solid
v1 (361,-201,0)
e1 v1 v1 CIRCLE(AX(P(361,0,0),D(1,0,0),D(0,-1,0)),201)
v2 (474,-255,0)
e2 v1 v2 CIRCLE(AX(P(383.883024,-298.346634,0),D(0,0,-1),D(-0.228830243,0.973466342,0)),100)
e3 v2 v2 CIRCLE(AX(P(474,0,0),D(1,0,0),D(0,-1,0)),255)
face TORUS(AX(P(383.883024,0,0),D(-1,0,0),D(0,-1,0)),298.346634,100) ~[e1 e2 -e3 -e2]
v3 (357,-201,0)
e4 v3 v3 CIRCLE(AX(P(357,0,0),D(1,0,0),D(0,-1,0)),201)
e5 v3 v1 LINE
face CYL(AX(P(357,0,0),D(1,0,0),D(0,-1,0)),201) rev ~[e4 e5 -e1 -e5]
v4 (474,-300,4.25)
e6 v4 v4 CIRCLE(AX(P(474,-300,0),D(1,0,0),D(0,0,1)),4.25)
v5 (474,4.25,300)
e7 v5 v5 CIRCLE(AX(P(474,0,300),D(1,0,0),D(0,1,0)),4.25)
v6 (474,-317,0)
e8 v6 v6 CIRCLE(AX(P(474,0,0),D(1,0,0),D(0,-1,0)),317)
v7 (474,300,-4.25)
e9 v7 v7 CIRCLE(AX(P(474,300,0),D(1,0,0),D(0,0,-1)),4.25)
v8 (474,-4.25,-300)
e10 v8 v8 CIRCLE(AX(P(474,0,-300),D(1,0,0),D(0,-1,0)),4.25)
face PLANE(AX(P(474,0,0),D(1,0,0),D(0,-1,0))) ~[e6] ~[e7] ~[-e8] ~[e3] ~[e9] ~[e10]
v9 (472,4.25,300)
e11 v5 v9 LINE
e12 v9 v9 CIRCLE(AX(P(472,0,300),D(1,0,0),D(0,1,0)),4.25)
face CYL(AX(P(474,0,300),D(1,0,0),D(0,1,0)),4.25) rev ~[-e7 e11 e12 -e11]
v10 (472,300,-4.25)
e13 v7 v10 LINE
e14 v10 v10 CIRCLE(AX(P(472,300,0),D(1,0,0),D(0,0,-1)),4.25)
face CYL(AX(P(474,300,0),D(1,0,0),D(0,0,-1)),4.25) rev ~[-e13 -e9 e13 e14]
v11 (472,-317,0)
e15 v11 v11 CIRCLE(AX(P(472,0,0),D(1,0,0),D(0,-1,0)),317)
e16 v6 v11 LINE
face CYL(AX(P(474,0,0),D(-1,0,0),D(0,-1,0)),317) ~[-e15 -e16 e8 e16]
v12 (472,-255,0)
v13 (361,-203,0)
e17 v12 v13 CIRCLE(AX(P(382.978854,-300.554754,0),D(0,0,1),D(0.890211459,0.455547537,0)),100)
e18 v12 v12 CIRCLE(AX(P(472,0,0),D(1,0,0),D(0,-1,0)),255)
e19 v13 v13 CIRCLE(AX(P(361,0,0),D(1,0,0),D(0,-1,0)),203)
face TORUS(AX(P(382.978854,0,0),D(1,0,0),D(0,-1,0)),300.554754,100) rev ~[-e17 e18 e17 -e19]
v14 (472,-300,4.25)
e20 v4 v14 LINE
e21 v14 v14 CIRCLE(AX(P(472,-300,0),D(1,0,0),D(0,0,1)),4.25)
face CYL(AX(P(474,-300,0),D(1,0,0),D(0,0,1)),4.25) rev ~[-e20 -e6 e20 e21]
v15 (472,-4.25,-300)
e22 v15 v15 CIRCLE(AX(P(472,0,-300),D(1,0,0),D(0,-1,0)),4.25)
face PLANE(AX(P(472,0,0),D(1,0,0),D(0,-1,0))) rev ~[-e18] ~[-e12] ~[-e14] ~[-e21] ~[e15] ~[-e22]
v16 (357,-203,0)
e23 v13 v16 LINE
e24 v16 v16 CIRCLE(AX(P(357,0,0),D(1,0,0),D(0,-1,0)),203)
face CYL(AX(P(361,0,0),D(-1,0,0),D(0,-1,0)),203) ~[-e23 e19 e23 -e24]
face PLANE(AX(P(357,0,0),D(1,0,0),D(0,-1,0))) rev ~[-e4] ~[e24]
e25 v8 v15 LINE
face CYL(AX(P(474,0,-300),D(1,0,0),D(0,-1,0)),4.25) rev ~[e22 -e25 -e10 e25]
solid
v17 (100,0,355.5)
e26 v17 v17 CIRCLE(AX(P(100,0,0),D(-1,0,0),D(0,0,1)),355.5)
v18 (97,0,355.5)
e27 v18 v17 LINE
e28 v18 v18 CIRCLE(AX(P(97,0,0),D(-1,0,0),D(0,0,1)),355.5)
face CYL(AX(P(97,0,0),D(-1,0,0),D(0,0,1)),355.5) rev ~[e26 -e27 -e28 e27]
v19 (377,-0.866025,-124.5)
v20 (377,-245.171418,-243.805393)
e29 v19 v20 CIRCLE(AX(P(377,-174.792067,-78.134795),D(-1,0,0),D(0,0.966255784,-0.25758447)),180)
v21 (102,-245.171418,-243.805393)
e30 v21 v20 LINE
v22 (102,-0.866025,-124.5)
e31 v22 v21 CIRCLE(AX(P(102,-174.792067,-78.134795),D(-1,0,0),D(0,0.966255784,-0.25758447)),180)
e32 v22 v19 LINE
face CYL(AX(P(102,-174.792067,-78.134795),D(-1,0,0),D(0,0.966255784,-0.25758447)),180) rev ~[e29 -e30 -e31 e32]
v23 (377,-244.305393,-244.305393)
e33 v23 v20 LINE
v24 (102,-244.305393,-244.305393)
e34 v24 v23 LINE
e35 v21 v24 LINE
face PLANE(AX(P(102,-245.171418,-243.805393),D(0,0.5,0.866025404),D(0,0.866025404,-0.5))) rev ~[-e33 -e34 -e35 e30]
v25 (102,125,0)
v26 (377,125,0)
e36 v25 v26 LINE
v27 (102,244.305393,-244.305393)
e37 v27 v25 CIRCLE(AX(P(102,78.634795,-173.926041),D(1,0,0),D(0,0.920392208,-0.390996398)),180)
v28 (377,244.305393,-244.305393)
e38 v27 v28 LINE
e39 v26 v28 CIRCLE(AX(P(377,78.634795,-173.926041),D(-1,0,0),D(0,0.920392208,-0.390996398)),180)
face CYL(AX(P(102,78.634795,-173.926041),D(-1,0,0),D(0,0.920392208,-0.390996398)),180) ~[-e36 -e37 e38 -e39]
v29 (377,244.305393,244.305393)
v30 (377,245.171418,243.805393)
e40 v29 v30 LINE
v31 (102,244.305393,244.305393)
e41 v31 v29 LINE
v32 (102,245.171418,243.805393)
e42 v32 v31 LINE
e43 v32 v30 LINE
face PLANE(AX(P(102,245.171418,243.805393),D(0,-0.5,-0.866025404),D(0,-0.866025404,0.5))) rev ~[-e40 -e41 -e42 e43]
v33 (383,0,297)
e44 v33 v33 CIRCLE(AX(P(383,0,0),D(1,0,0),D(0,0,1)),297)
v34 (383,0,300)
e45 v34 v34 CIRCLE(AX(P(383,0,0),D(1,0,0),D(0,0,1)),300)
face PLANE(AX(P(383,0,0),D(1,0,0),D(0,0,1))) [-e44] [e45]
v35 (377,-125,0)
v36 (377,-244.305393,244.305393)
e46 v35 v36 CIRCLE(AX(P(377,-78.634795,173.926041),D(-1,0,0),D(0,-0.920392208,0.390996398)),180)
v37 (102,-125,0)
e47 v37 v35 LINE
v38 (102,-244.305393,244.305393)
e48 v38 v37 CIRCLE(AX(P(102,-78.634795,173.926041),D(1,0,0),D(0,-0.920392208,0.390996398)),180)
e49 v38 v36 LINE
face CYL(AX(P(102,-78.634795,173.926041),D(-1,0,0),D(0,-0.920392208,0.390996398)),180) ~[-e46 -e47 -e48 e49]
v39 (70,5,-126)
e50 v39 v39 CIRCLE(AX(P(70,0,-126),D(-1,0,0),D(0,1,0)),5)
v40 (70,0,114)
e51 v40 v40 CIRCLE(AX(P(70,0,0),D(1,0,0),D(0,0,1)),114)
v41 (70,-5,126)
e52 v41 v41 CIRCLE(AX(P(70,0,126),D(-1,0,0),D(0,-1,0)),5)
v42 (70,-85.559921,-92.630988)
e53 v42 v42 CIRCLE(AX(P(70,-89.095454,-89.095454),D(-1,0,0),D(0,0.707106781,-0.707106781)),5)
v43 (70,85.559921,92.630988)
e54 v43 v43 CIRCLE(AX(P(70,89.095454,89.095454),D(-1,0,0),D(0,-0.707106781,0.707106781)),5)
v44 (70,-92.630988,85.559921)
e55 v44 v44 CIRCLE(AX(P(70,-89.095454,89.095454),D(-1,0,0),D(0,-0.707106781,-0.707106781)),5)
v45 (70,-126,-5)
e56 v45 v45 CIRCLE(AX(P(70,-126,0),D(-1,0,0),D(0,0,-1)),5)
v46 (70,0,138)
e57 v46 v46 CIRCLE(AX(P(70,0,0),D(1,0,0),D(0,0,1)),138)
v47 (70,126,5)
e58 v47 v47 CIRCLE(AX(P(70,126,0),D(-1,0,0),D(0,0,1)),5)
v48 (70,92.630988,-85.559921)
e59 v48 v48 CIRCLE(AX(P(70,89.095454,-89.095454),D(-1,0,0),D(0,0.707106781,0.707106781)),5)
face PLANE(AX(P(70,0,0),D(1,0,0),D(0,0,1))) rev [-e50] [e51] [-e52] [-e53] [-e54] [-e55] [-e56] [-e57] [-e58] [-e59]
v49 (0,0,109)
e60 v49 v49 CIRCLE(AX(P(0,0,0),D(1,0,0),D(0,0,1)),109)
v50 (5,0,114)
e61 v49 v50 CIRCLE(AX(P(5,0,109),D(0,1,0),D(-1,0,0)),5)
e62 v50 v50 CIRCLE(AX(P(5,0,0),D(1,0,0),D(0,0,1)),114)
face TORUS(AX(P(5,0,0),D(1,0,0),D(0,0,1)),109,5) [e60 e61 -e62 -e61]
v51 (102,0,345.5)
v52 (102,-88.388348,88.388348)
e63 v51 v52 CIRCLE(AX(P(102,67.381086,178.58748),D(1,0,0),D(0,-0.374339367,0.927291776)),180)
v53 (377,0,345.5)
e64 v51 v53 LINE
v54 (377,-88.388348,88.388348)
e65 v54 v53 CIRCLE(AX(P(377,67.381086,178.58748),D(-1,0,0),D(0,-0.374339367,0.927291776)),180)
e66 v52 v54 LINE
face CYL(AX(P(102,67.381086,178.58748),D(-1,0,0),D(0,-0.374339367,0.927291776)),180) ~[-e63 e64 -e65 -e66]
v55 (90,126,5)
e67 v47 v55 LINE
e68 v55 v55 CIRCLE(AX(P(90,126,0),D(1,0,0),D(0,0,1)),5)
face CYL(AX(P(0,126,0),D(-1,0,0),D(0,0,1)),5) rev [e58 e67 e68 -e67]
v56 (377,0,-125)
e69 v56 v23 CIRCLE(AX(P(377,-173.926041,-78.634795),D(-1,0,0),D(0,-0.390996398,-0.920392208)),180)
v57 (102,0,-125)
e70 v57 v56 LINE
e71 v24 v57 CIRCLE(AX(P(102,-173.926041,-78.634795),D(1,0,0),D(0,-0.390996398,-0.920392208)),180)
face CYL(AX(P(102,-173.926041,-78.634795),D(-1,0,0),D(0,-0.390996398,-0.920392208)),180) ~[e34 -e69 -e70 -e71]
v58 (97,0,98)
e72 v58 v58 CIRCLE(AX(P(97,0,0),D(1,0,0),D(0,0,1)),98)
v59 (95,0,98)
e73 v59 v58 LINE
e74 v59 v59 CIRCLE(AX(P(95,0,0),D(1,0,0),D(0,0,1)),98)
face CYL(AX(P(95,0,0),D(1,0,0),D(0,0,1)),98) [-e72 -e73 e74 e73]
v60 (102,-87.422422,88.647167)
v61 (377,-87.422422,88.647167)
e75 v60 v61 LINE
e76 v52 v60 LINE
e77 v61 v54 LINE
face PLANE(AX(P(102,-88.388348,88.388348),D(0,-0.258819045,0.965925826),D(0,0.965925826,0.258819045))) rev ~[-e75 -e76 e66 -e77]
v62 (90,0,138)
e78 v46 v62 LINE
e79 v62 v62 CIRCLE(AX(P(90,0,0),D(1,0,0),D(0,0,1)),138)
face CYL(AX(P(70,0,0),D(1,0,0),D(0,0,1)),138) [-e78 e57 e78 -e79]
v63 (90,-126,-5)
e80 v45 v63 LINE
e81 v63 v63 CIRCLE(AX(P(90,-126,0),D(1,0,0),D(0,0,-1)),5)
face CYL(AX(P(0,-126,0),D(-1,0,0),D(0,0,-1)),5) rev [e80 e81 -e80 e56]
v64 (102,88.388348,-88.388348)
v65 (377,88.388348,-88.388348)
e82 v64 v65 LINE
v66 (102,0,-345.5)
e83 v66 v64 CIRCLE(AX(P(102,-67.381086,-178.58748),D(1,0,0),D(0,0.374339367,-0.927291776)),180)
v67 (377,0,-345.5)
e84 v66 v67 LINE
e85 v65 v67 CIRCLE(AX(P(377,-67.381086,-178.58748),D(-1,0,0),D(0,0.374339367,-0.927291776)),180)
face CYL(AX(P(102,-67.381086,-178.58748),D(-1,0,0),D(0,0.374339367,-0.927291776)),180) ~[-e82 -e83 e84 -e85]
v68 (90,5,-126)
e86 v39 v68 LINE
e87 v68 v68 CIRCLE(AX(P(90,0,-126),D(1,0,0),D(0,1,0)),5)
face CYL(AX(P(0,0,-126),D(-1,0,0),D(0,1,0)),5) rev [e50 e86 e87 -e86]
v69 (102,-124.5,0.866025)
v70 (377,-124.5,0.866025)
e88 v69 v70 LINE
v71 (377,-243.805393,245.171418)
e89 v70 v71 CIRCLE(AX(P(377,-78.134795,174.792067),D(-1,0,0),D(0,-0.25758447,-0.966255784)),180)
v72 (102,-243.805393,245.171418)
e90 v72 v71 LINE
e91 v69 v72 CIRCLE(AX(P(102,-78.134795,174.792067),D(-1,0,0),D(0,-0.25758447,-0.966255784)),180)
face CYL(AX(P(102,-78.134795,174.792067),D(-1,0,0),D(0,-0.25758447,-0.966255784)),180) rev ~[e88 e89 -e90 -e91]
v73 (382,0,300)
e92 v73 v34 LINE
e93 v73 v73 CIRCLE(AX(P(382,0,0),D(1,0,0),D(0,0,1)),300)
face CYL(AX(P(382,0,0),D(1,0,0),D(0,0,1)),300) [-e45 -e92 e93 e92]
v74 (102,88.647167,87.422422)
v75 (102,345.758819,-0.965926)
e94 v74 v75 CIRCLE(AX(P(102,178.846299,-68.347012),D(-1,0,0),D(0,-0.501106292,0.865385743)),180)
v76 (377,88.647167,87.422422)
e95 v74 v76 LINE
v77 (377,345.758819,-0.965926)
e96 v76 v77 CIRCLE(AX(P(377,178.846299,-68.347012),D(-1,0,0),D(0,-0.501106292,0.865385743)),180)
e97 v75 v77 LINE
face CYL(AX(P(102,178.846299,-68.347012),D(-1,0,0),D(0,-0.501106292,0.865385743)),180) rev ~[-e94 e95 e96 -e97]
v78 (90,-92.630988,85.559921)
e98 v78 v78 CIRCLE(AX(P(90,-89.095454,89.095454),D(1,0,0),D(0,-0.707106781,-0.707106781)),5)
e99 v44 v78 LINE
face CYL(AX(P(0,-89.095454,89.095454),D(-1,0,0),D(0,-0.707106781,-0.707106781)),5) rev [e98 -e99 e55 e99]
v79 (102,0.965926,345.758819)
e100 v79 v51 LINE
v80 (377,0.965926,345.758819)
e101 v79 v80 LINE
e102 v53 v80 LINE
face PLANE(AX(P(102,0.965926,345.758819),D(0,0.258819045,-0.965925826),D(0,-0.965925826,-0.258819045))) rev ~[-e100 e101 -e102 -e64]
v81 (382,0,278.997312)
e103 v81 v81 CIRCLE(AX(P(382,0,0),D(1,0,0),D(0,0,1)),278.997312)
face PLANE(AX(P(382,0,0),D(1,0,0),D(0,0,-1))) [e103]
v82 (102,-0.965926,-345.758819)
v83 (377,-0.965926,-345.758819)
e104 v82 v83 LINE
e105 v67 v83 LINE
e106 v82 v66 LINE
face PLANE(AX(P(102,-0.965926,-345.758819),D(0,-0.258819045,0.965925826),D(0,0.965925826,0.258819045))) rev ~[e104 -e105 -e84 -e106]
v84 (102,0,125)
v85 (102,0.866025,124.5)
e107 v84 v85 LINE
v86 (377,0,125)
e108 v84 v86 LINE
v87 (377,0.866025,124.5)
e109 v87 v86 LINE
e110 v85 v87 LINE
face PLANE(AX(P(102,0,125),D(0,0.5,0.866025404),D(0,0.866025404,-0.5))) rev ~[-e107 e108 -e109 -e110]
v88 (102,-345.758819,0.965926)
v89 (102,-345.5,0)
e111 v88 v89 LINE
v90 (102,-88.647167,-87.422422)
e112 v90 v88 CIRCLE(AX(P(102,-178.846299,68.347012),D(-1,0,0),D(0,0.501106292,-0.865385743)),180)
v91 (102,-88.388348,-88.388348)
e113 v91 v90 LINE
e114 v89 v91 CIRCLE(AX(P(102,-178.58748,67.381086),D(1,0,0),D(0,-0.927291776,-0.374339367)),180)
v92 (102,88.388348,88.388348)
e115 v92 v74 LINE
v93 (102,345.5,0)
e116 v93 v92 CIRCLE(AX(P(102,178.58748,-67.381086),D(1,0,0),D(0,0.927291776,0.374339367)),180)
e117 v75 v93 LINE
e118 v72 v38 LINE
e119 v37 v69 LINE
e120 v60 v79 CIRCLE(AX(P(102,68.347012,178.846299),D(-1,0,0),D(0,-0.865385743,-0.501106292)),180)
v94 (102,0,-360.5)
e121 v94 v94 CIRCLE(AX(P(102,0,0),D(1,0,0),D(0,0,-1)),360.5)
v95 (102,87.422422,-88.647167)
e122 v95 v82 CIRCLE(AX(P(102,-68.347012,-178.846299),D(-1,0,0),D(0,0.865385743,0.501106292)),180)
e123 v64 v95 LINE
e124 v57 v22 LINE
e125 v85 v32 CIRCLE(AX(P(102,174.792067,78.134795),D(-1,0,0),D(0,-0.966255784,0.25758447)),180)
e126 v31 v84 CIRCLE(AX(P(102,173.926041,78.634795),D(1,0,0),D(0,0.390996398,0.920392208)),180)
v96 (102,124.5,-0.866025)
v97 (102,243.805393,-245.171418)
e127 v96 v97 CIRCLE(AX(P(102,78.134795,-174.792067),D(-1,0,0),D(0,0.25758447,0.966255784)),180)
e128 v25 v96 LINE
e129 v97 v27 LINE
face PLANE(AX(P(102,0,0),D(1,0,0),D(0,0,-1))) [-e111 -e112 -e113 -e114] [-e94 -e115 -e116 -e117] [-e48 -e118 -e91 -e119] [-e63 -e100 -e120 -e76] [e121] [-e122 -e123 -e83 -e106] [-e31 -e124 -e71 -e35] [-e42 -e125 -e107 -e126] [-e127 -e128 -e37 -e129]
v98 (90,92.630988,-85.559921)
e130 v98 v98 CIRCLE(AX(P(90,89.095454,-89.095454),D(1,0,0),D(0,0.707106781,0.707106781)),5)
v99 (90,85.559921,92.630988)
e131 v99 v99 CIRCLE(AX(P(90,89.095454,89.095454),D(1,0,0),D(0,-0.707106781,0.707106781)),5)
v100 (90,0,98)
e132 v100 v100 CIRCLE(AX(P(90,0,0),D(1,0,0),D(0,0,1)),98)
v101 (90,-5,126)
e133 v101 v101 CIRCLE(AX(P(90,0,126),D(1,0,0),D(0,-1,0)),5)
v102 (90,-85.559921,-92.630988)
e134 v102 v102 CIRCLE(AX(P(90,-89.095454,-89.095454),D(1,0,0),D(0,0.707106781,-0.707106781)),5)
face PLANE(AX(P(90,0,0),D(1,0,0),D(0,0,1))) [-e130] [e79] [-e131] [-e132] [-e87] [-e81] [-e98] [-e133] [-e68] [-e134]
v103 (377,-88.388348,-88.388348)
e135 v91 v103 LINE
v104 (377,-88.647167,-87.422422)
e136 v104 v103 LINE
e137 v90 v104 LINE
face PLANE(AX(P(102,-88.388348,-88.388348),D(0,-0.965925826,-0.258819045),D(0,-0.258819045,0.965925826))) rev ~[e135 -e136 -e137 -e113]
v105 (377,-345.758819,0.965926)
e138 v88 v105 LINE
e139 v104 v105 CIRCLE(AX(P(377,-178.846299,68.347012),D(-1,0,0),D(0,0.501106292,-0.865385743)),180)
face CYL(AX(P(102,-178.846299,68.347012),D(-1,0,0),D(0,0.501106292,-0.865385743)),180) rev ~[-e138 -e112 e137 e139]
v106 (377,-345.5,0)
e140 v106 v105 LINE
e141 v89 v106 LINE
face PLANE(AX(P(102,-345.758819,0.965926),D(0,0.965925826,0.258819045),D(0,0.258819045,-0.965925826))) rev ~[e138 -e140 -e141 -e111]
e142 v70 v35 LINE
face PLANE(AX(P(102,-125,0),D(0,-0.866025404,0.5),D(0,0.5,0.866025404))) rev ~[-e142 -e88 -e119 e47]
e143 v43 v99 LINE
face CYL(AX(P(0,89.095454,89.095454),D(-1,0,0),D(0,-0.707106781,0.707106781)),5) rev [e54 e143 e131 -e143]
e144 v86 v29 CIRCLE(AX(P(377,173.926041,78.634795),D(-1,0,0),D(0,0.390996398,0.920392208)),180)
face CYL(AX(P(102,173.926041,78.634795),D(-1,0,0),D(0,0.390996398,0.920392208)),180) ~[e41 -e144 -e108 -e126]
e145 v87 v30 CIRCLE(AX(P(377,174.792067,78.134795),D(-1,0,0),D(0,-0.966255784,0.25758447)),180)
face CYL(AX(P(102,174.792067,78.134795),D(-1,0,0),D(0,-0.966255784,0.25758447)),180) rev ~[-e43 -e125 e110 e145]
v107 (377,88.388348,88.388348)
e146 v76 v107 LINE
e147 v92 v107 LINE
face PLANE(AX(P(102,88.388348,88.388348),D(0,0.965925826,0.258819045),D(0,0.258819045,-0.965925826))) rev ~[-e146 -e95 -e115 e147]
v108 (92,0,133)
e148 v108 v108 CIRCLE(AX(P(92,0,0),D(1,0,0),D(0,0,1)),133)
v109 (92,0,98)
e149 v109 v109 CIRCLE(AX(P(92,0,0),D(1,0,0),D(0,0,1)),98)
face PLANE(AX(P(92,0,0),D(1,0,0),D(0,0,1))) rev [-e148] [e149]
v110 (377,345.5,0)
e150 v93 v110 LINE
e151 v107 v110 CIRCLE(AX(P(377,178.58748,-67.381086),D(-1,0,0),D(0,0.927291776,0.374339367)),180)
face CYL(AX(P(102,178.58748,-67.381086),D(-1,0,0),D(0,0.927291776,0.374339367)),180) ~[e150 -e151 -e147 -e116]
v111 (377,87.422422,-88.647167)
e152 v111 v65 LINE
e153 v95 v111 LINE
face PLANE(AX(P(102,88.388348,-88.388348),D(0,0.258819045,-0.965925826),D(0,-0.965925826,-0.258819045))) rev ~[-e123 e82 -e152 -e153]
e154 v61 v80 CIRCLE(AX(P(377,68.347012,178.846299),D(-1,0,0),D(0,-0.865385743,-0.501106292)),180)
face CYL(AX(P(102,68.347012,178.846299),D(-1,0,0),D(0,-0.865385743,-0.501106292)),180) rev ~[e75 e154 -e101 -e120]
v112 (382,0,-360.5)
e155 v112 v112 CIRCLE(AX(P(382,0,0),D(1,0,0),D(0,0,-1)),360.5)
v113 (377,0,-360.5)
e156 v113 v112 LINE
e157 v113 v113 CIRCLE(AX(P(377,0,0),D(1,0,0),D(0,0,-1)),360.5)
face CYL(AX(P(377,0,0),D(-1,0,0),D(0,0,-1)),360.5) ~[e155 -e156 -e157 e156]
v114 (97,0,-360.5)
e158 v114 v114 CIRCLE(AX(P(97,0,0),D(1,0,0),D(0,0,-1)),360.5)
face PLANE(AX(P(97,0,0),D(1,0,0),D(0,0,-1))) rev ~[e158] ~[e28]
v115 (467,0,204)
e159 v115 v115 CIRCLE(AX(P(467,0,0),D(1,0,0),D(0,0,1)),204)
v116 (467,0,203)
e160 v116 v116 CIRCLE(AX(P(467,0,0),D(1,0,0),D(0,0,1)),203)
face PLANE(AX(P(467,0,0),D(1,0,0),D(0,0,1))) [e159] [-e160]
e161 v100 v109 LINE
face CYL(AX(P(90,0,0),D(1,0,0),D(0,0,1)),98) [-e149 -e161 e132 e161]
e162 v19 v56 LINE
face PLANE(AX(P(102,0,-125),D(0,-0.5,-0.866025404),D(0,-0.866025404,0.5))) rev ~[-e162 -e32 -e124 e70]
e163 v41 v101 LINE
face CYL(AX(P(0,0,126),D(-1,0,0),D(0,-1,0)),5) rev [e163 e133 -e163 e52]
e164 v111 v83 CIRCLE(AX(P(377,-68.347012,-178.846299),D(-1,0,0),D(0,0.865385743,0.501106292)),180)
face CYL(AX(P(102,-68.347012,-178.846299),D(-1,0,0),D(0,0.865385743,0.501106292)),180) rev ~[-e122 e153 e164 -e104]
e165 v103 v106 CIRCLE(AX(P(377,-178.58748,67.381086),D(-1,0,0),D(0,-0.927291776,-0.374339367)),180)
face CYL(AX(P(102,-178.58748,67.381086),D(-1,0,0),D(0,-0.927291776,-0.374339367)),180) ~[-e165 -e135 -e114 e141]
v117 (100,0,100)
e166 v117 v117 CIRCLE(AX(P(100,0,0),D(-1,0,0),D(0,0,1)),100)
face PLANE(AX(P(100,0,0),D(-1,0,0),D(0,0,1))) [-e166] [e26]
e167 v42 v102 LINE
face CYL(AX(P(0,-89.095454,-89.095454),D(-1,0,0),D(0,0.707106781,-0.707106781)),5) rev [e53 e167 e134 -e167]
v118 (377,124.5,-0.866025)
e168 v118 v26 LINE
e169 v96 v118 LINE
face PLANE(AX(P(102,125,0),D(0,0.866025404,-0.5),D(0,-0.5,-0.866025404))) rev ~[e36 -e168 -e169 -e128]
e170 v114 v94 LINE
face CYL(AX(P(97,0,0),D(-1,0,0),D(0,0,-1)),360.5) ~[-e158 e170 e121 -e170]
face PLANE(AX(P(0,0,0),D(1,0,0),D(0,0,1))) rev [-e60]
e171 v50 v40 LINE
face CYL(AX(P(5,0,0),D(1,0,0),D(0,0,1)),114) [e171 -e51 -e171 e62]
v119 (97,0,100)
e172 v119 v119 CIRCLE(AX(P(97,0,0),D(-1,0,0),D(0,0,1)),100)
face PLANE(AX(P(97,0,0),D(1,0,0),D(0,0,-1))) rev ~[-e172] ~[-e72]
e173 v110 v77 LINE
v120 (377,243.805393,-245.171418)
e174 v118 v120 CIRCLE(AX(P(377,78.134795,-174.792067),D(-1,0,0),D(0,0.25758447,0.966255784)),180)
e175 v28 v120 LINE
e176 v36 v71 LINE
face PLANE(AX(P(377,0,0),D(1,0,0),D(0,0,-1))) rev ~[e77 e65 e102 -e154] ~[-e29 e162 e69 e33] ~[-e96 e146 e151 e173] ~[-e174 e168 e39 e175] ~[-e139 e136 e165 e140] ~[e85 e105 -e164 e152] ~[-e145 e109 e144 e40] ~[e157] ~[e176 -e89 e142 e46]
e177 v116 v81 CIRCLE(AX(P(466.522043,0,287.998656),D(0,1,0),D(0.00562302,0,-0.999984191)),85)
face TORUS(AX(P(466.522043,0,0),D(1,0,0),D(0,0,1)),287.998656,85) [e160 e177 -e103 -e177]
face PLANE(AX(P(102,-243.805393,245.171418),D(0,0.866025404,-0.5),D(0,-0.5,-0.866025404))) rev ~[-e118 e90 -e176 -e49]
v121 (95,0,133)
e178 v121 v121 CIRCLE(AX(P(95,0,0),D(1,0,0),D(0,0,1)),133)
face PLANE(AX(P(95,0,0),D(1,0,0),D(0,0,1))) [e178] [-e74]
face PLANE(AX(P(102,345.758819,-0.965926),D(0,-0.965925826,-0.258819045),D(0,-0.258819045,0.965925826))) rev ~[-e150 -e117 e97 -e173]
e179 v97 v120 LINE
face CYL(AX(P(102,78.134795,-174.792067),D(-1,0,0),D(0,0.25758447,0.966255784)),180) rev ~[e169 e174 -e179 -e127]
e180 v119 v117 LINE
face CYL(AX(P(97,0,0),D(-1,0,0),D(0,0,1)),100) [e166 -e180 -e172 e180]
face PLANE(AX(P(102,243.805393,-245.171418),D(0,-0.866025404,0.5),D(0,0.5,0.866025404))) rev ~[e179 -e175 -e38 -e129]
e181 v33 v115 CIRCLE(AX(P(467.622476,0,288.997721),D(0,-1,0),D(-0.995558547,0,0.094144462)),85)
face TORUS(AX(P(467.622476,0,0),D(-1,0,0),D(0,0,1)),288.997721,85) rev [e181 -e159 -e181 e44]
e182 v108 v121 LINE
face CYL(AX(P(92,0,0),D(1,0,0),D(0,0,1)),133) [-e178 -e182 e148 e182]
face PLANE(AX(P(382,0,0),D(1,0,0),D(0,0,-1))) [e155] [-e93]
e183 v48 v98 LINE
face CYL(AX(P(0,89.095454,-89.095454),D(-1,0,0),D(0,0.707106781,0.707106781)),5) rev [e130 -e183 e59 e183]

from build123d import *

# Parameters (mm, degrees)
SKETCH2_R         = 360.5
EXTRUDE1_DEPTH    = 5
SKETCH9_R         = 355.5
SKETCH9_R_2       = 100
EXTRUDE7_DEPTH    = 3
SKETCH3_R         = 360.5
EXTRUDE2_DEPTH    = 5
EXTRUDE3_DEPTH    = 280
CIRPATTERN1_COUNT = 8
SKETCH7_R         = 4.25
EXTRUDE5_DEPTH    = 5
CIRPATTERN2_COUNT = 4
SKETCH8_R         = 5
EXTRUDE6_DEPTH    = 90
CIRPATTERN3_COUNT = 8


with BuildPart() as part:
    # Sketch1 → Revolve1 (revolve)
    with BuildSketch(Plane.XY, mode=Mode.PRIVATE) as revolve1_sk:
        with BuildLine():
            Line((0, 0), (0, 109))
            ThreePointArc((0, 109), (1.464466094, 112.535533906), (5, 114))
            Line((5, 114), (70, 114))
            Line((70, 114), (70, 138))
            Line((70, 138), (90, 138))
            Line((90, 138), (90, 98))
            Line((90, 98), (92, 98))
            Line((92, 98), (92, 133))
            Line((92, 133), (95, 133))
            Line((95, 133), (95, 98))
            Line((95, 98), (97, 98))
            Line((97, 98), (97, 0))
            Line((97, 0), (0, 0))
        make_face()
    revolve(revolve1_sk.sketch.rotate(Axis((0, 0, 0), (1, 0, 0)), 90), axis=Axis((0, 0, 0), (1, 0, 0)))

    # Sketch2 → Extrude1 (add)
    with BuildSketch(Plane(origin=(97, 0, 0), x_dir=(0, 0, -1), z_dir=(1, 0, 0))):
        Circle(SKETCH2_R)
    extrude(amount=EXTRUDE1_DEPTH)

    # Sketch9 → Extrude7 (cut)
    with BuildSketch(Plane.ZY.offset(-97)):
        Circle(SKETCH9_R)
        Circle(SKETCH9_R_2, mode=Mode.SUBTRACT)
    extrude(amount=-EXTRUDE7_DEPTH, mode=Mode.SUBTRACT)



with BuildPart() as body_2:
    # Sketch3 → Extrude2 (new body)
    with BuildSketch(Plane(origin=(377, 0, 0), x_dir=(0, 0, -1), z_dir=(1, 0, 0))):
        Circle(SKETCH3_R)
    extrude(amount=EXTRUDE2_DEPTH)


with BuildPart() as part_1:
    add(part.part)

    add(body_2.part)  # Extrude3 merges body 2
    # Sketch4 → Extrude3 (add)
    with BuildSketch(Plane(origin=(102, 0, 0), x_dir=(0, 0, -1), z_dir=(1, 0, 0))):
        with BuildLine():
            Line((0, 125), (0.866025404, 124.5))
            ThreePointArc((0.866025404, 124.5), (95.805210607, 239.87865649), (245.171418304, 243.8053929))
            Line((245.171418304, 243.8053929), (244.3053929, 244.3053929))
            ThreePointArc((244.3053929, 244.3053929), (94.939185203, 240.37865649), (0, 125))
        make_face()
    extrude3 = extrude(amount=EXTRUDE3_DEPTH)

    # CirPattern1: Extrude3 ×8 about axis
    cirpattern1_axis = Axis((0, 0, 0), (1, 0, 0))
    for i in range(1, CIRPATTERN1_COUNT):
        add(extrude3.rotate(cirpattern1_axis, i * 360 / CIRPATTERN1_COUNT))

    # Sketch5 → Revolve2 (revolve)
    with BuildSketch(Plane.XY, mode=Mode.PRIVATE) as revolve2_sk:
        with BuildLine():
            Line((382, 300), (383, 300))
            Line((383, 300), (383, 297))
            ThreePointArc((383, 297), (404.543751848, 232.023388766), (467, 204))
            Line((467, 204), (467, 203))
            ThreePointArc((467, 203), (403.475614999, 230.988588031), (382, 297))
            Line((382, 297), (382, 300))
        make_face()
    revolve(revolve2_sk.sketch.rotate(Axis((0, 0, 0), (1, 0, 0)), 90), axis=Axis((0, 0, 0), (1, 0, 0)))

    # Sketch8 → Extrude6 (cut)
    with BuildSketch(Plane(origin=(0, 0, 0), x_dir=(0, 0, -1), z_dir=(1, 0, 0))):
        with Locations(Location((0, 126, 0), (0, 0, 180))):
            Circle(SKETCH8_R)
    extrude6 = extrude(amount=EXTRUDE6_DEPTH, mode=Mode.SUBTRACT)

    # CirPattern3: Extrude6 ×8 about axis
    cirpattern3_axis = Axis((0, 0, 0), (1, 0, 0))
    for i in range(1, CIRPATTERN3_COUNT):
        add(extrude6.rotate(cirpattern3_axis, i * 360 / CIRPATTERN3_COUNT), mode=Mode.SUBTRACT)


with BuildPart() as body_2_2:
    # Sketch6 → Revolve3 (revolve)
    with BuildSketch(Plane.XY, mode=Mode.PRIVATE) as revolve3_sk:
        with BuildLine():
            Line((474, 317), (472, 317))
            Line((472, 317), (472, 255))
            ThreePointArc((472, 255), (425.401338972, 209.999064886), (361, 203))
            Line((361, 203), (357, 203))
            Line((357, 203), (357, 201))
            Line((357, 201), (361, 201))
            ThreePointArc((361, 201), (427.000318465, 208.119703952), (474, 255))
            Line((474, 255), (474, 317))
        make_face()
    revolve(revolve3_sk.sketch.rotate(Axis((0, 0, 0), (1, 0, 0)), 180), axis=Axis((0, 0, 0), (1, 0, 0)))

    # Sketch7 → Extrude5 (cut)
    with BuildSketch(Plane(origin=(474, 0, 0), x_dir=(0, 0, -1), z_dir=(1, 0, 0))):
        with Locations((0, 300)):
            Circle(SKETCH7_R)
    extrude5 = extrude(amount=-EXTRUDE5_DEPTH, mode=Mode.SUBTRACT)

    # CirPattern2: Extrude5 ×4 about axis
    cirpattern2_axis = Axis((0, 0, 0), (1, 0, 0))
    for i in range(1, CIRPATTERN2_COUNT):
        add(extrude5.rotate(cirpattern2_axis, i * 360 / CIRPATTERN2_COUNT), mode=Mode.SUBTRACT)


solid = Compound([part_1.part, body_2_2.part])
